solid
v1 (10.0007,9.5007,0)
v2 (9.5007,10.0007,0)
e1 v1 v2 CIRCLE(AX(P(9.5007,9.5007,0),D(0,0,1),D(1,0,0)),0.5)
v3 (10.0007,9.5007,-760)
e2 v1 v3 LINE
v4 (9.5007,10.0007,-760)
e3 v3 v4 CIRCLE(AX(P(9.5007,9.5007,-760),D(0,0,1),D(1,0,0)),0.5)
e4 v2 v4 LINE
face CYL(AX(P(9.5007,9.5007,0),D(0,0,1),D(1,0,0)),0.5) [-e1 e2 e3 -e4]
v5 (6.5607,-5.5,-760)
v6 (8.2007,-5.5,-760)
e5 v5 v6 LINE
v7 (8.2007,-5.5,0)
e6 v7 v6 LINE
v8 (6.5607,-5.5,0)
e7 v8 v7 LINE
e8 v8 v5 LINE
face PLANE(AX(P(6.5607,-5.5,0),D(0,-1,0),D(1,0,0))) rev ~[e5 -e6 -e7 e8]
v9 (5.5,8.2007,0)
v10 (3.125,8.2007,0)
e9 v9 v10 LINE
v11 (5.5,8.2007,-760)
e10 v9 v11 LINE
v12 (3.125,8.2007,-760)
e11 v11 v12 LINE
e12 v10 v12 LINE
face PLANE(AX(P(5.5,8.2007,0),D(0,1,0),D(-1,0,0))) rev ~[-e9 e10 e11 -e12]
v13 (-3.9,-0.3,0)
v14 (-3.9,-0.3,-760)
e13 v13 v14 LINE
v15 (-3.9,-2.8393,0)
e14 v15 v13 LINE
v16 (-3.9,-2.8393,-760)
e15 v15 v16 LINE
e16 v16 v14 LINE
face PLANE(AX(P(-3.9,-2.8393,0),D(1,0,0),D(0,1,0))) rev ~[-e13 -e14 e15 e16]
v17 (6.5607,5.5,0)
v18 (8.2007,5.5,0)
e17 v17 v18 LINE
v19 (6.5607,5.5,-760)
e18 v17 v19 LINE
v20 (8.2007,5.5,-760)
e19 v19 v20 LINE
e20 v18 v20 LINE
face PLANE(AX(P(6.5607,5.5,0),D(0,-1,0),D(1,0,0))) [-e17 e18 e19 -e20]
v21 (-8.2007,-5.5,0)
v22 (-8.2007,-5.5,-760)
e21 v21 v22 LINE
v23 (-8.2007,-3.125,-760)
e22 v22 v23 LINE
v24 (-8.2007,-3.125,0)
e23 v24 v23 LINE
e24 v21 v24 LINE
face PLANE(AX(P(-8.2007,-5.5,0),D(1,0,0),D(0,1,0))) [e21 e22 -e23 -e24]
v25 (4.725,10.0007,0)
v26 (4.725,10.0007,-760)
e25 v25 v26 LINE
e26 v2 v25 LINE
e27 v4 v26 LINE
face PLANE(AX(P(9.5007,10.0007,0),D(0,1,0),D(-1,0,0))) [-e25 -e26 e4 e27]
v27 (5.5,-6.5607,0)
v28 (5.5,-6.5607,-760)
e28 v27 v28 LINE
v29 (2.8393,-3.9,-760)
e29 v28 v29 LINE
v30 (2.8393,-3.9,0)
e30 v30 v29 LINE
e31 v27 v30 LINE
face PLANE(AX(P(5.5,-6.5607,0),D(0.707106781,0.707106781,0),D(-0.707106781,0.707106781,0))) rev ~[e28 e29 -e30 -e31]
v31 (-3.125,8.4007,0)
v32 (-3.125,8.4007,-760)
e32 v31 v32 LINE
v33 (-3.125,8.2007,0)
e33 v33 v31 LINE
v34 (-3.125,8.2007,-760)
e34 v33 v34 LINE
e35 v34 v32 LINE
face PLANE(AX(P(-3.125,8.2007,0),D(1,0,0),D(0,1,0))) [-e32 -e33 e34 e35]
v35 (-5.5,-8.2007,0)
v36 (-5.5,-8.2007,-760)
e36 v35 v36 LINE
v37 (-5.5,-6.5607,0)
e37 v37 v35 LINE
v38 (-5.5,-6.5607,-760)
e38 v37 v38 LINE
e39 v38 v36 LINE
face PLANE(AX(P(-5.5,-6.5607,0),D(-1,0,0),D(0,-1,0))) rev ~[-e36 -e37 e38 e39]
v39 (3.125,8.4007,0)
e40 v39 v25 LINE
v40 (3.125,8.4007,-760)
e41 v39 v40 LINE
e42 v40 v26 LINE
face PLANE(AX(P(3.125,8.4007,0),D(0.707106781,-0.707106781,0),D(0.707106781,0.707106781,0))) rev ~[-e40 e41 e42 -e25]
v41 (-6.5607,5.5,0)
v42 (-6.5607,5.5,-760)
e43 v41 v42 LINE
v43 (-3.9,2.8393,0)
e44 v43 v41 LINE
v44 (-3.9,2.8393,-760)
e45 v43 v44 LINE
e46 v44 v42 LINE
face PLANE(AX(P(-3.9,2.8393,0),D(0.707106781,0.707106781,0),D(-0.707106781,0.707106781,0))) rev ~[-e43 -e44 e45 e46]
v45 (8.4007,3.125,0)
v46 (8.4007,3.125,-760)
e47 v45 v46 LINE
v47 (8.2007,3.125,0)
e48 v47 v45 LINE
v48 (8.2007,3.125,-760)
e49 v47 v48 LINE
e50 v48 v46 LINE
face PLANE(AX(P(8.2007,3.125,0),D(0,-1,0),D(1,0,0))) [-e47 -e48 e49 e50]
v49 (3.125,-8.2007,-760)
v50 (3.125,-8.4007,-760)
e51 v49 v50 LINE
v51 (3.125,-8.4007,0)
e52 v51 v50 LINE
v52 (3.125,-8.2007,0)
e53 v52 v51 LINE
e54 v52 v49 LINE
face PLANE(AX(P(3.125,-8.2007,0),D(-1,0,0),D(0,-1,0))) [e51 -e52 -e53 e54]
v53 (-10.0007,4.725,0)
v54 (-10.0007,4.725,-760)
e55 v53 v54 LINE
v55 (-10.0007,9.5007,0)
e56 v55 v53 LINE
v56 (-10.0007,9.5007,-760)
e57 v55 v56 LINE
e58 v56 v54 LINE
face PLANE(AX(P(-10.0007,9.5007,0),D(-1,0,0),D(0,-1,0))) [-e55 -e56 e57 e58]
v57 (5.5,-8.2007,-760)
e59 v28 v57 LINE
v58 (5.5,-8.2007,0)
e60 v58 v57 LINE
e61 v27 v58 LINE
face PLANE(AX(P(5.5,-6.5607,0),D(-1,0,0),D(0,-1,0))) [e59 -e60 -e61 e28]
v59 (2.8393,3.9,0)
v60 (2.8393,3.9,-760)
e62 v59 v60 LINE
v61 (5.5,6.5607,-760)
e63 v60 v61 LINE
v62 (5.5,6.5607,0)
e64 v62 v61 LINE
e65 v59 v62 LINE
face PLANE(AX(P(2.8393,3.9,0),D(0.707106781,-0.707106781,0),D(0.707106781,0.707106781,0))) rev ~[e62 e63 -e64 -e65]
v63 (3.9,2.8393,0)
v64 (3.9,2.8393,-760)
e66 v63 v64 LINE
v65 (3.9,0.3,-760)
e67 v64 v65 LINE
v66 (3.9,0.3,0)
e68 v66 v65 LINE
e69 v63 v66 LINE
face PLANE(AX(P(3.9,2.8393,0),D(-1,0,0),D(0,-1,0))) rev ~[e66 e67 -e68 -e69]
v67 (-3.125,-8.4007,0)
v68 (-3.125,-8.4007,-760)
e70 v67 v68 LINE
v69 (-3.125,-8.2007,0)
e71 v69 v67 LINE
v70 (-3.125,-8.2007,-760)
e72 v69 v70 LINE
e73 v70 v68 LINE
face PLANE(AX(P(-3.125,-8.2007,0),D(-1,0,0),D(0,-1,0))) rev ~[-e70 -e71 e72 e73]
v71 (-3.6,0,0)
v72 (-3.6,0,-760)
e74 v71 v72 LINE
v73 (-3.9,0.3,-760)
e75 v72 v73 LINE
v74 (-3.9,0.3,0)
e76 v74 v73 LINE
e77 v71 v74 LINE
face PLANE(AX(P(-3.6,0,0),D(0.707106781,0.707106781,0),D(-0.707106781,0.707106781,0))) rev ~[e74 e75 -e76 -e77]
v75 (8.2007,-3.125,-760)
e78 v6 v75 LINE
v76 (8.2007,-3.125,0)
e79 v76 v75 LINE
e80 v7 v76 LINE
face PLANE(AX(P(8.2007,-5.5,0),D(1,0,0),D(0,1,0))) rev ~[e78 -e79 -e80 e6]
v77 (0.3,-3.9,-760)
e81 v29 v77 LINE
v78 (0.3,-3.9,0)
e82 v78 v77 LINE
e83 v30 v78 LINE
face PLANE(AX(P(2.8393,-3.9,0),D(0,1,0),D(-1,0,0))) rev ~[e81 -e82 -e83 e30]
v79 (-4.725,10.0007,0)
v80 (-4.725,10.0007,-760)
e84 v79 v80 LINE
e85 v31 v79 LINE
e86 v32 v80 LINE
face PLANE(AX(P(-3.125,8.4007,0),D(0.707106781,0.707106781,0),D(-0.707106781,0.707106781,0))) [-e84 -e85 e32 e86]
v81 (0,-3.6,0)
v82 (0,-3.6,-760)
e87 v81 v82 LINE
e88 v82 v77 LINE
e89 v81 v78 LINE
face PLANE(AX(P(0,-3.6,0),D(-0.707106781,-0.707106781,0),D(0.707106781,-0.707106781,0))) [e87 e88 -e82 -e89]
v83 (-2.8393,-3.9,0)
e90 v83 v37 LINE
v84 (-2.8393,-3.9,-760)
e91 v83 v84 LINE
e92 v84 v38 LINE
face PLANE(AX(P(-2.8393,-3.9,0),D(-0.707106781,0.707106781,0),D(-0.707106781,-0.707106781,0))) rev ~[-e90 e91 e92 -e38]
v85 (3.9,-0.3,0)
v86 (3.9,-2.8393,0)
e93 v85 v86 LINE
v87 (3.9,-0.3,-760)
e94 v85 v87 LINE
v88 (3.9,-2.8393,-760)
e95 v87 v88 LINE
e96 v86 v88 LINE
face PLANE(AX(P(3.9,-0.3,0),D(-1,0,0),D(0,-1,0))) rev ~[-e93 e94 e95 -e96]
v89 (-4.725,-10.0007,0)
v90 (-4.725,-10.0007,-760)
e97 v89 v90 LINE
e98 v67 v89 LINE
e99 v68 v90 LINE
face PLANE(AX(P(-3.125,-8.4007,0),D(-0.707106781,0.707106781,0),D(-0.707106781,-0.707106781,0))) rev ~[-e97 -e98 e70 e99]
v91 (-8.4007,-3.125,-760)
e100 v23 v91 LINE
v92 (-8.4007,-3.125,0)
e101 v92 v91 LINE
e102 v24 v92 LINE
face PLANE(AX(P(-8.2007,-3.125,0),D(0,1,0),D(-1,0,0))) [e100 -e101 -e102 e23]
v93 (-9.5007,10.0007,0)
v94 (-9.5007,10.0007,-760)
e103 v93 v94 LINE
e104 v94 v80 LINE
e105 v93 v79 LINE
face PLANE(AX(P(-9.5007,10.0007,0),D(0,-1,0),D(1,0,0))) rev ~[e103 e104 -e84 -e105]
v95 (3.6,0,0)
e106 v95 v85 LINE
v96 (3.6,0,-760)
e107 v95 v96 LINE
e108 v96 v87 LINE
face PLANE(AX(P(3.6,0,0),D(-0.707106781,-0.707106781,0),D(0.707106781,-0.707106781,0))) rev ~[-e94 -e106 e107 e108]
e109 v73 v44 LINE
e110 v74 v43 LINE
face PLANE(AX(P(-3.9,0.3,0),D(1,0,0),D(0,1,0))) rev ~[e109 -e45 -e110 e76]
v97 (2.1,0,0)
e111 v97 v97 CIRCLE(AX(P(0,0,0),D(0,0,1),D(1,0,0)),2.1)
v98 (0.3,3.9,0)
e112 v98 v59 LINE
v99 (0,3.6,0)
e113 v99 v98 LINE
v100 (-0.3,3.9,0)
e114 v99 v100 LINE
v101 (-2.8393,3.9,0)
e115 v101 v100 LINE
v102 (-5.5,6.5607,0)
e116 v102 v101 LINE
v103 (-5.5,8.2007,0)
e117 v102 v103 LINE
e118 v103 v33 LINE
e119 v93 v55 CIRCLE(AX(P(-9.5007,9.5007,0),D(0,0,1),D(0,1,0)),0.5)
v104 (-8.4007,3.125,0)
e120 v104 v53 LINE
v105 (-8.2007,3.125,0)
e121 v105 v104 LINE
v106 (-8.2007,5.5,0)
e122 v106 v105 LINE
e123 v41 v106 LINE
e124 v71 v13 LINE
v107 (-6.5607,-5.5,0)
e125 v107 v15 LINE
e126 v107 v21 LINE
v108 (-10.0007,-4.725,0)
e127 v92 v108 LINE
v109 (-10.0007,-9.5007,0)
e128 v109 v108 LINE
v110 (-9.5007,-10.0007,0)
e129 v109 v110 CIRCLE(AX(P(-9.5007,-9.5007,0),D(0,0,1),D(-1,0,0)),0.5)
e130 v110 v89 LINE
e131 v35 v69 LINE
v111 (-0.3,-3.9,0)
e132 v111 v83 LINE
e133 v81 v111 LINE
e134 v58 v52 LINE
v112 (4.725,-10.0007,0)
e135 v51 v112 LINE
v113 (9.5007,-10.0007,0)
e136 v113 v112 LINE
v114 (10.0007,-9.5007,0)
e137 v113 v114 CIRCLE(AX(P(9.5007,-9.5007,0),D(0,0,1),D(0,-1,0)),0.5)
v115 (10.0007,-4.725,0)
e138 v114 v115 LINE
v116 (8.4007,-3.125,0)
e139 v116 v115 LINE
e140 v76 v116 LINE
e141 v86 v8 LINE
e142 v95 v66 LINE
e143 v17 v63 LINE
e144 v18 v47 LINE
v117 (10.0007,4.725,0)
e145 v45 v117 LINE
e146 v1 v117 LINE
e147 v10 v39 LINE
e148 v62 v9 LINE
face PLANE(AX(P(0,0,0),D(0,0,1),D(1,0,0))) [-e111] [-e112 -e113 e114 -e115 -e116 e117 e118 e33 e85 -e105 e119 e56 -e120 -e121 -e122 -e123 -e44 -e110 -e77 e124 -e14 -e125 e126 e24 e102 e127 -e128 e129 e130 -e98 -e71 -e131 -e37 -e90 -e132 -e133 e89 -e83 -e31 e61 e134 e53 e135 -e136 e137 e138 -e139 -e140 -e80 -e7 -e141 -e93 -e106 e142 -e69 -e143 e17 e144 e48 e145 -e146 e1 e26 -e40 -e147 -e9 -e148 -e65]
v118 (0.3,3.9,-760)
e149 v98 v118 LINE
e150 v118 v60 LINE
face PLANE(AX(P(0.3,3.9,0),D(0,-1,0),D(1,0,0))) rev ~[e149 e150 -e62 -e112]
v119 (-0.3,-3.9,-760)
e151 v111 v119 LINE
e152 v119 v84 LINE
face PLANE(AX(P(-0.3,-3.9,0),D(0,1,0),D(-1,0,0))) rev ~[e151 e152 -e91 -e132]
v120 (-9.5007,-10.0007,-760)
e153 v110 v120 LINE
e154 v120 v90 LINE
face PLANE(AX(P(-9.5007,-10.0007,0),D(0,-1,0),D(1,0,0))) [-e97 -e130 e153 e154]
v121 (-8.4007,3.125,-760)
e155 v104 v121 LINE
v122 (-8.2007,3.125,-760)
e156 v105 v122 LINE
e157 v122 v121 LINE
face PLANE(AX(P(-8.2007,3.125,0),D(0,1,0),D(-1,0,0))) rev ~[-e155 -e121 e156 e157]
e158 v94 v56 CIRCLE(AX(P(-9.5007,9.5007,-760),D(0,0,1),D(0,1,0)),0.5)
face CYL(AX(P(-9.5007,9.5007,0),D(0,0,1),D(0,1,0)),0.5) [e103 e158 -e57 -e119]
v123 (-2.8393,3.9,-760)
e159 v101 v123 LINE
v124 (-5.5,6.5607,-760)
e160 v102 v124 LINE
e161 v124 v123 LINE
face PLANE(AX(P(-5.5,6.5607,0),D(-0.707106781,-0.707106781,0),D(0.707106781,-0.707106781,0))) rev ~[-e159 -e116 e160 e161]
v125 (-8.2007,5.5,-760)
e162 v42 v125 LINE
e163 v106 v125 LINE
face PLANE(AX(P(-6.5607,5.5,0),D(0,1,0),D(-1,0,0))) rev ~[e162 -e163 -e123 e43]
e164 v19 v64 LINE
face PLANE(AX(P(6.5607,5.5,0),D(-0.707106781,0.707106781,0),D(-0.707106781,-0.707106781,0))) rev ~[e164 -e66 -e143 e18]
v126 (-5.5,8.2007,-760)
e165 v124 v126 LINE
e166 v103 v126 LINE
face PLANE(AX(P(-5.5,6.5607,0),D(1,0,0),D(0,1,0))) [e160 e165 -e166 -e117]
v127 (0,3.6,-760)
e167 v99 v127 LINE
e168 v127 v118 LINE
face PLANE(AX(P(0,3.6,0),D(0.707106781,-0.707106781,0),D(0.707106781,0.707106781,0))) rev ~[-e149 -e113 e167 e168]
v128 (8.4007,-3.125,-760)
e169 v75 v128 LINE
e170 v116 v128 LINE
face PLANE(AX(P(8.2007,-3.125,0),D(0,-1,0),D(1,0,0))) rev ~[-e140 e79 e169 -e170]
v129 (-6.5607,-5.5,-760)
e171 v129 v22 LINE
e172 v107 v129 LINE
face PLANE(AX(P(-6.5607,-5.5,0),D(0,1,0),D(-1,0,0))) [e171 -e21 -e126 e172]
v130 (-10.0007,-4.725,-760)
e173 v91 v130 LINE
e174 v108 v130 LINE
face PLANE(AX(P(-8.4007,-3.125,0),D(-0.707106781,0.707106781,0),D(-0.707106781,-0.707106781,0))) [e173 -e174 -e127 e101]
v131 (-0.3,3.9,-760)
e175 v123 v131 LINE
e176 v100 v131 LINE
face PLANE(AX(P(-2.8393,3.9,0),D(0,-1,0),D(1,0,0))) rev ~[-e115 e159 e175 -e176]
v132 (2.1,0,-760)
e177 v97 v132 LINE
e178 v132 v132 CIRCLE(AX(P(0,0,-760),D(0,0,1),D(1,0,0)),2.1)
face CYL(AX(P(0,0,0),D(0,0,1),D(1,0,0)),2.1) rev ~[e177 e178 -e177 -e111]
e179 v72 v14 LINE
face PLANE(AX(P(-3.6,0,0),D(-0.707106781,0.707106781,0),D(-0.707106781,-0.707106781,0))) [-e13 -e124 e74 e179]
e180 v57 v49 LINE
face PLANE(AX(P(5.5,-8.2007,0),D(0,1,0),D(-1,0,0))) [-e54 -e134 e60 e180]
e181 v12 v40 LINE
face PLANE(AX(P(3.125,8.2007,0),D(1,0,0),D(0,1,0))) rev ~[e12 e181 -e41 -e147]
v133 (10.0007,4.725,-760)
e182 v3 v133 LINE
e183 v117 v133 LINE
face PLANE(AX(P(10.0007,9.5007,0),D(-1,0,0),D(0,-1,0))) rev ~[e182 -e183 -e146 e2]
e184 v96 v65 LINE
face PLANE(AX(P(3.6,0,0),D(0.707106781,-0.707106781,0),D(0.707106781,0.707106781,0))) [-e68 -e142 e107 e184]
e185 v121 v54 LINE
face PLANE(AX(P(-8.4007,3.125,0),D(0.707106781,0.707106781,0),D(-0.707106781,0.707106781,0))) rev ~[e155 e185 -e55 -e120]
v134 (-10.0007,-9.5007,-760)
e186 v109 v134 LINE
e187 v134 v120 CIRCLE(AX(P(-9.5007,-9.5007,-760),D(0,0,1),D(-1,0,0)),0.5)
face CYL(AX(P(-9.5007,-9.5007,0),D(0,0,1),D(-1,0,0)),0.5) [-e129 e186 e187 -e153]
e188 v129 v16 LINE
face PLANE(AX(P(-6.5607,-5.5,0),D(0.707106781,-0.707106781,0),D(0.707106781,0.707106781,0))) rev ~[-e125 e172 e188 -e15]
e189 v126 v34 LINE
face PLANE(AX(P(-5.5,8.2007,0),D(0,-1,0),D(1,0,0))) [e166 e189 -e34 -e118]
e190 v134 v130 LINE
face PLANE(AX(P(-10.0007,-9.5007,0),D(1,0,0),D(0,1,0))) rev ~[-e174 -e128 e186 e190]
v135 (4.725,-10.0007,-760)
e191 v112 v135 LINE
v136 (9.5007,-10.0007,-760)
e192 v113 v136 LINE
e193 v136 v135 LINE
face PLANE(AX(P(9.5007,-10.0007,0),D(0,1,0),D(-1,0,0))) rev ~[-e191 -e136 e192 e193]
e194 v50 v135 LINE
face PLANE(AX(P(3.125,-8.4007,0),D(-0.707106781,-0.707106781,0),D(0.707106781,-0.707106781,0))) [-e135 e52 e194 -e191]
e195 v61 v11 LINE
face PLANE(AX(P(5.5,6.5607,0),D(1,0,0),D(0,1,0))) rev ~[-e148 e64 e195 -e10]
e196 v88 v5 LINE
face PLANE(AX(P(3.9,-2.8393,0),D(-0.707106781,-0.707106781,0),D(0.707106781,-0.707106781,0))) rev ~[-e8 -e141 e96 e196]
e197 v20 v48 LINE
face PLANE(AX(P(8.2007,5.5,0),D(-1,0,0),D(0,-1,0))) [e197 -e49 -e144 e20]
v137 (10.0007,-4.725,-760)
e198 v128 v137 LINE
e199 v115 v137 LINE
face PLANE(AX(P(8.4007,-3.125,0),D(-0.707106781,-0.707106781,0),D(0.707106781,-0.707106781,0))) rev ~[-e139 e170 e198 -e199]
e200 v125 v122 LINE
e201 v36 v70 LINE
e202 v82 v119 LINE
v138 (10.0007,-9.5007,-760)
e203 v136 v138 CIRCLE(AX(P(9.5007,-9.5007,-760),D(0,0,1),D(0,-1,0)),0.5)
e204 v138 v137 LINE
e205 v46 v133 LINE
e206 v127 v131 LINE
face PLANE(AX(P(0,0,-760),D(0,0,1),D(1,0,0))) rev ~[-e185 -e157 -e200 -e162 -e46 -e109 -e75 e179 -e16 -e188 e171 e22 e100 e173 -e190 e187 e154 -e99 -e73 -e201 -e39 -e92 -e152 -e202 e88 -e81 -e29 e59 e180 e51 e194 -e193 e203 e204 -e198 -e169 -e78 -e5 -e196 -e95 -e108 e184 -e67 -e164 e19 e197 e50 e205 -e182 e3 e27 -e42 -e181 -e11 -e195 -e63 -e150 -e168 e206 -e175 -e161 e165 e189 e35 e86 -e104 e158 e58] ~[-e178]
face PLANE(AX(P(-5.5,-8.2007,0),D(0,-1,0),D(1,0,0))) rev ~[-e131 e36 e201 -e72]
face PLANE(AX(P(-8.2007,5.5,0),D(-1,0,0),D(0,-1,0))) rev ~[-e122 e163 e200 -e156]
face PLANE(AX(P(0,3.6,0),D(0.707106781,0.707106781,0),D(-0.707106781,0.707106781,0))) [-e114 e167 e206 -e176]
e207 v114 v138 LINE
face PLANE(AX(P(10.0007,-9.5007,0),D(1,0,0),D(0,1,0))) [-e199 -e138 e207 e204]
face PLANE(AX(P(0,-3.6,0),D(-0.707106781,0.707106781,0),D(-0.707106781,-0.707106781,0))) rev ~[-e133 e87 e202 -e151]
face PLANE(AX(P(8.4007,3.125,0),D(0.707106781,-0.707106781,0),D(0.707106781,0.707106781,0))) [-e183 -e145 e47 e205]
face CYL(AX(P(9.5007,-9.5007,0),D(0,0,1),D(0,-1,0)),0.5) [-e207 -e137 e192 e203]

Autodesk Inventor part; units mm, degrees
ref_plane "YZ Plane" through (0, 0, 0) normal (1, 0, 0) x (0, 1, 0)
ref_plane "XZ Plane" through (0, 0, 0) normal (0, 1, 0) x (-1, 0, 0)
ref_plane "XY Plane" through (0, 0, 0) normal (0, 0, 1) x (1, 0, 0)
sketch "Sketch2" plane through (0, 0, 0) normal (0, 0, 1) x (1, 0, 0)
  arc A0 (-27.4375, 16.3608) -> (-26.9375, 16.8608) centre (-27.4375, 16.8608) ccw
  line L0 (-45.4375, 36.3608) -> (-46.4375, 36.3608)
  line L1 (-46.9375, 34.8608) -> (-46.9375, 35.8608)
  line L2 (-28.4375, 36.3608) -> (-27.4375, 36.3608)
  line L3 (-26.9375, 17.8608) -> (-26.9375, 16.8608)
  line L4 (-28.4375, 16.3608) -> (-27.4375, 16.3608)
  line L5 (-26.9375, 31.1923) -> (-26.9375, 35.8608)
  line L6 (-46.4375, 16.3608) -> (-41.7689, 16.3608)
  line L7 (-46.9375, 17.8608) -> (-46.9375, 16.8608)
  arc A1 (-46.9375, 16.8608) -> (-46.4375, 16.3608) centre (-46.4375, 16.8608) ccw
  arc A2 (-46.9375, 16.8608) -> (-46.4375, 16.3608) centre (-46.4375, 16.8608) ccw
  arc A3 (-46.4375, 36.3608) -> (-46.9375, 35.8608) centre (-46.4375, 35.8608) ccw
  arc A4 (-26.9375, 35.8608) -> (-27.4375, 36.3608) centre (-27.4375, 35.8608) ccw
  line L8 (-41.5004, 36.2982) -> (-41.5366, 36.3146)
  line L9 (-46.812, 30.8227) -> (-46.8352, 30.855)
  line L10 (-46.9375, 17.8608) -> (-46.9375, 21.4608)
  line L11 (-46.9362, 21.5691) -> (-46.9375, 21.4608)
  line L12 (-46.9258, 21.6478) -> (-46.9323, 21.6086)
  line L13 (-46.9323, 21.6086) -> (-46.9362, 21.5691)
  line L14 (-46.9168, 21.6865) -> (-46.9258, 21.6478)
  line L15 (-46.9053, 21.7245) -> (-46.9168, 21.6865)
  line L16 (-46.8913, 21.7617) -> (-46.9053, 21.7245)
  line L17 (-46.8749, 21.7979) -> (-46.8913, 21.7617)
  line L18 (-46.8561, 21.8329) -> (-46.8749, 21.7979)
  line L19 (-46.812, 21.8989) -> (-46.8352, 21.8667)
  line L20 (-46.8352, 21.8667) -> (-46.8561, 21.8329)
  line L21 (-41.4654, 36.2795) -> (-41.5004, 36.2982)
  line L22 (-46.7868, 21.9297) -> (-46.812, 21.8989)
  line L23 (-46.7597, 21.9586) -> (-46.7868, 21.9297)
  line L24 (-46.7597, 21.9586) -> (-45.2441, 23.4742)
  line L25 (-45.2441, 23.4742) -> (-45.1375, 23.4742)
  line L26 (-45.1375, 23.4742) -> (-45.1375, 20.8608)
  line L27 (-45.1375, 20.8608) -> (-43.4981, 20.8608)
  line L28 (-43.4981, 20.8608) -> (-40.8375, 23.5215)
  line L29 (-46.7868, 30.792) -> (-46.812, 30.8227)
  line L30 (-40.8375, 26.161) -> (-40.8375, 23.5215)
  line L31 (-40.6376, 26.3608) -> (-40.8375, 26.161)
  line L32 (-40.6376, 26.3608) -> (-40.8375, 26.5607)
  line L33 (-40.8375, 29.2002) -> (-40.8375, 26.5607)
  line L34 (-43.4981, 31.8608) -> (-40.8375, 29.2002)
  line L35 (-45.1375, 31.8608) -> (-43.4981, 31.8608)
  line L36 (-45.1375, 29.2475) -> (-45.1375, 31.8608)
  line L37 (-46.7597, 30.763) -> (-46.7868, 30.792)
  line L38 (-45.2441, 29.2475) -> (-45.1375, 29.2475)
  line L39 (-45.2441, 29.2475) -> (-46.7597, 30.763)
  line L40 (-28.7375, 20.8608) -> (-30.3768, 20.8608)
  line L41 (-41.5738, 36.3286) -> (-41.6118, 36.3402)
  line L42 (-41.3687, 36.2102) -> (-41.3994, 36.2354)
  line L43 (-41.3397, 36.183) -> (-41.3687, 36.2102)
  line L44 (-41.6118, 36.3402) -> (-41.6505, 36.3492)
  line L45 (-41.7292, 16.3621) -> (-41.7689, 16.3608)
  line L46 (-41.6897, 16.366) -> (-41.7292, 16.3621)
  line L47 (-41.6505, 16.3725) -> (-41.6897, 16.366)
  line L48 (-41.6118, 16.3815) -> (-41.6505, 16.3725)
  line L49 (-41.5738, 16.3931) -> (-41.6118, 16.3815)
  line L50 (-41.5366, 16.4071) -> (-41.5738, 16.3931)
  line L51 (-42.4375, 32.9215) -> (-39.7768, 30.2608)
  line L52 (-41.5004, 16.4235) -> (-41.5366, 16.4071)
  line L53 (-41.4654, 16.4422) -> (-41.5004, 16.4235)
  line L54 (-41.4317, 16.4632) -> (-41.4654, 16.4422)
  line L55 (-41.3994, 16.4863) -> (-41.4317, 16.4632)
  line L56 (-41.3687, 16.5115) -> (-41.3994, 16.4863)
  line L57 (-41.3397, 16.5386) -> (-41.3687, 16.5115)
  line L58 (-41.3397, 16.5386) -> (-39.8241, 18.0542)
  line L59 (-39.8241, 18.0542) -> (-39.8241, 18.1608)
  line L60 (-39.8241, 18.1608) -> (-42.4375, 18.1608)
  line L61 (-42.4375, 18.1608) -> (-42.4375, 19.8002)
  line L62 (-42.4375, 19.8002) -> (-39.7768, 22.4608)
  line L63 (-39.7768, 22.4608) -> (-37.1444, 22.4608)
  line L64 (-37.1444, 22.4608) -> (-36.9375, 22.6656)
  line L65 (-36.9375, 22.6656) -> (-36.7327, 22.4608)
  line L66 (-36.7327, 22.4608) -> (-34.0981, 22.4608)
  line L67 (-34.0981, 22.4608) -> (-31.4375, 19.8002)
  line L68 (-31.4375, 18.1608) -> (-31.4375, 19.8002)
  line L69 (-41.3397, 36.183) -> (-39.8241, 34.6675)
  line L70 (-34.0508, 18.1608) -> (-31.4375, 18.1608)
  line L71 (-41.6505, 36.3492) -> (-41.6897, 36.3557)
  line L72 (-34.0508, 18.0542) -> (-34.0508, 18.1608)
  line L73 (-34.0508, 18.0542) -> (-32.5353, 16.5387)
  line L74 (-32.5353, 16.5387) -> (-32.5063, 16.5115)
  line L75 (-32.5063, 16.5115) -> (-32.4756, 16.4863)
  line L76 (-32.4756, 16.4863) -> (-32.4433, 16.4632)
  line L77 (-32.4433, 16.4632) -> (-32.4096, 16.4422)
  line L78 (-32.4096, 16.4422) -> (-32.3745, 16.4235)
  line L79 (-32.3745, 16.4235) -> (-32.3383, 16.4071)
  line L80 (-32.3383, 16.4071) -> (-32.3012, 16.3931)
  line L81 (-32.3012, 16.3931) -> (-32.2631, 16.3815)
  line L82 (-32.2631, 16.3815) -> (-32.2245, 16.3725)
  line L83 (-32.2245, 16.3725) -> (-32.1853, 16.366)
  line L84 (-32.1853, 16.366) -> (-32.1457, 16.3621)
  line L85 (-32.1457, 16.3621) -> (-32.106, 16.3608)
  line L86 (-28.4375, 16.3608) -> (-32.106, 16.3608)
  line L87 (-39.8241, 34.6675) -> (-39.8241, 34.5608)
  line L88 (-41.6897, 36.3557) -> (-41.7292, 36.3595)
  line L89 (-26.9375, 17.8608) -> (-26.9375, 21.5294)
  line L90 (-26.9388, 21.5691) -> (-26.9375, 21.5294)
  line L91 (-26.9427, 21.6086) -> (-26.9388, 21.5691)
  line L92 (-26.9491, 21.6478) -> (-26.9427, 21.6086)
  line L93 (-26.9582, 21.6865) -> (-26.9491, 21.6478)
  line L94 (-26.9697, 21.7245) -> (-26.9582, 21.6865)
  line L95 (-26.9837, 21.7617) -> (-26.9697, 21.7245)
  line L96 (-27.0001, 21.7979) -> (-26.9837, 21.7617)
  line L97 (-41.7292, 36.3595) -> (-41.7689, 36.3608)
  line L98 (-27.0188, 21.8329) -> (-27.0001, 21.7979)
  line L99 (-27.0398, 21.8667) -> (-27.0188, 21.8329)
  line L100 (-27.0629, 21.8989) -> (-27.0398, 21.8667)
  line L101 (-27.0881, 21.9297) -> (-27.0629, 21.8989)
  line L102 (-27.1153, 21.9587) -> (-27.0881, 21.9297)
  line L103 (-28.6308, 23.4742) -> (-27.1153, 21.9587)
  line L104 (-28.6308, 23.4742) -> (-28.7375, 23.4742)
  line L105 (-28.7375, 23.4742) -> (-28.7375, 20.8608)
  line L106 (-32.3012, 36.3286) -> (-32.2631, 36.3402)
  line L107 (-30.3768, 20.8608) -> (-33.0375, 23.5215)
  line L108 (-33.0375, 23.5215) -> (-33.0375, 26.161)
  line L109 (-33.2373, 26.3608) -> (-33.0375, 26.161)
  line L110 (-33.2373, 26.3608) -> (-33.0375, 26.5607)
  line L111 (-33.0375, 29.2002) -> (-33.0375, 26.5607)
  line L112 (-30.3768, 31.8608) -> (-33.0375, 29.2002)
  line L113 (-45.4375, 36.3608) -> (-41.7689, 36.3608)
  line L114 (-28.6308, 29.2475) -> (-28.7375, 29.2475)
  line L115 (-28.7375, 31.8608) -> (-30.3768, 31.8608)
  line L116 (-28.7375, 29.2475) -> (-28.7375, 31.8608)
  line L117 (-27.1153, 30.763) -> (-28.6308, 29.2475)
  line L118 (-27.1153, 30.763) -> (-27.0881, 30.792)
  line L119 (-27.0881, 30.792) -> (-27.0629, 30.8227)
  line L120 (-27.0629, 30.8227) -> (-27.0398, 30.855)
  line L121 (-27.0398, 30.855) -> (-27.0188, 30.8888)
  line L122 (-27.0188, 30.8888) -> (-27.0001, 30.9238)
  line L123 (-27.0001, 30.9238) -> (-26.9837, 30.96)
  line L124 (-26.9837, 30.96) -> (-26.9697, 30.9972)
  line L125 (-26.9697, 30.9972) -> (-26.9582, 31.0352)
  line L126 (-26.9582, 31.0352) -> (-26.9491, 31.0739)
  line L127 (-26.9491, 31.0739) -> (-26.9427, 31.1131)
  line L128 (-26.9427, 31.1131) -> (-26.9388, 31.1526)
  line L129 (-26.9388, 31.1526) -> (-26.9375, 31.1923)
  line L130 (-39.8241, 34.5608) -> (-42.4375, 34.5608)
  line L131 (-28.4375, 36.3608) -> (-32.106, 36.3608)
  line L132 (-32.1457, 36.3595) -> (-32.106, 36.3608)
  line L133 (-32.1853, 36.3557) -> (-32.1457, 36.3595)
  line L134 (-32.2631, 36.3402) -> (-32.2245, 36.3492)
  line L135 (-32.3383, 36.3146) -> (-32.3012, 36.3286)
  line L136 (-32.3745, 36.2982) -> (-32.3383, 36.3146)
  line L137 (-32.4096, 36.2795) -> (-32.3745, 36.2982)
  line L138 (-32.4433, 36.2585) -> (-32.4096, 36.2795)
  line L139 (-32.4756, 36.2354) -> (-32.4433, 36.2585)
  line L140 (-32.5063, 36.2102) -> (-32.4756, 36.2354)
  line L141 (-46.9323, 31.1131) -> (-46.9362, 31.1526)
  line L142 (-34.0508, 34.6675) -> (-32.5353, 36.183)
  line L143 (-34.0508, 34.6675) -> (-34.0508, 34.5608)
  line L144 (-34.0508, 34.5608) -> (-31.4375, 34.5608)
  line L145 (-31.4375, 34.5608) -> (-31.4375, 32.9215)
  line L146 (-34.0981, 30.2608) -> (-31.4375, 32.9215)
  line L147 (-34.0981, 30.2608) -> (-36.7327, 30.2608)
  line L148 (-42.4375, 34.5608) -> (-42.4375, 32.9215)
  line L149 (-36.7327, 30.2608) -> (-36.9375, 30.0561)
  line L150 (-37.1422, 30.2608) -> (-36.9375, 30.0561)
  line L151 (-39.7768, 30.2608) -> (-37.1422, 30.2608)
  line L152 (-32.5353, 36.183) -> (-32.5063, 36.2102)
  line L153 (-41.3994, 36.2354) -> (-41.4317, 36.2585)
  line L154 (-46.9258, 31.0739) -> (-46.9323, 31.1131)
  line L155 (-41.4317, 36.2585) -> (-41.4654, 36.2795)
  line L156 (-46.9362, 31.1526) -> (-46.9375, 31.2608)
  line L157 (-46.9168, 31.0352) -> (-46.9258, 31.0739)
  line L158 (-46.9375, 34.8608) -> (-46.9375, 31.2608)
  line L159 (-46.9053, 30.9972) -> (-46.9168, 31.0352)
  line L160 (-46.8913, 30.96) -> (-46.9053, 30.9972)
  line L161 (-46.8749, 30.9238) -> (-46.8913, 30.96)
  line L162 (-46.8561, 30.8888) -> (-46.8749, 30.9238)
  line L163 (-32.2245, 36.3492) -> (-32.1853, 36.3557)
  line L164 (-41.5366, 36.3146) -> (-41.5738, 36.3286)
  line L165 (-46.8352, 30.855) -> (-46.8561, 30.8888)
  circle A5 centre (-36.9375, 26.3608) radius 2.1
  line L166 (3.9, -0.3) -> (3.9, -2.8393)
  line L167 (2.8393, -3.9) -> (0.3, -3.9)
  line L168 (5.5, -6.5607) -> (2.8393, -3.9)
  line L169 (3.9, -2.8393) -> (6.5607, -5.5)
  line L170 (6.5607, -5.5) -> (8.2007, -5.5)
  line L171 (8.2007, -5.5) -> (8.2007, -3.125)
  line L172 (8.2007, -3.125) -> (8.4007, -3.125)
  line L173 (8.4007, -3.125) -> (10.0007, -4.725)
  line L174 (10.0007, -9.5007) -> (10.0007, -4.725)
  line L175 (5.5, -6.5607) -> (5.5, -8.2007)
  line L176 (5.5, -8.2007) -> (3.125, -8.2007)
  line L177 (3.125, -8.2007) -> (3.125, -8.4007)
  line L178 (3.125, -8.4007) -> (4.725, -10.0007)
  line L179 (9.5007, -10.0007) -> (4.725, -10.0007)
  arc A6 (9.5007, -10.0007) -> (10.0007, -9.5007) centre (9.5007, -9.5007) ccw
  line L180 (0, -3.6) -> (0.3, -3.9)
  line L181 (3.6, 0) -> (3.9, -0.3)
  line L182 (3.125, 8.2007) -> (3.125, 8.4007)
  line L183 (0.3, 3.9) -> (2.8393, 3.9)
  line L184 (5.5, 8.2007) -> (3.125, 8.2007)
  line L185 (2.8393, 3.9) -> (5.5, 6.5607)
  line L186 (3.9, 2.8393) -> (3.9, 0.3)
  line L187 (3.6, 0) -> (3.9, 0.3)
  line L188 (6.5607, 5.5) -> (3.9, 2.8393)
  line L189 (5.5, 6.5607) -> (5.5, 8.2007)
  line L190 (3.125, 8.4007) -> (4.725, 10.0007)
  line L191 (6.5607, 5.5) -> (8.2007, 5.5)
  line L192 (8.2007, 5.5) -> (8.2007, 3.125)
  line L193 (8.2007, 3.125) -> (8.4007, 3.125)
  line L194 (8.4007, 3.125) -> (10.0007, 4.725)
  line L195 (9.5007, 10.0007) -> (4.725, 10.0007)
  arc A7 (10.0007, 9.5007) -> (9.5007, 10.0007) centre (9.5007, 9.5007) ccw
  line L196 (10.0007, 9.5007) -> (10.0007, 4.725)
  line L197 (0, 3.6) -> (0.3, 3.9)
  line L198 (-8.2007, 3.125) -> (-8.4007, 3.125)
  line L199 (-3.9, 0.3) -> (-3.9, 2.8393)
  line L200 (-8.2007, 5.5) -> (-8.2007, 3.125)
  line L201 (-3.9, 2.8393) -> (-6.5607, 5.5)
  line L202 (-2.8393, 3.9) -> (-0.3, 3.9)
  line L203 (0, 3.6) -> (-0.3, 3.9)
  line L204 (-5.5, 6.5607) -> (-2.8393, 3.9)
  line L205 (-6.5607, 5.5) -> (-8.2007, 5.5)
  line L206 (-8.4007, 3.125) -> (-10.0007, 4.725)
  line L207 (-5.5, 6.5607) -> (-5.5, 8.2007)
  line L208 (-5.5, 8.2007) -> (-3.125, 8.2007)
  line L209 (-3.125, 8.2007) -> (-3.125, 8.4007)
  line L210 (-3.125, 8.4007) -> (-4.725, 10.0007)
  line L211 (-10.0007, 9.5007) -> (-10.0007, 4.725)
  arc A8 (-9.5007, 10.0007) -> (-10.0007, 9.5007) centre (-9.5007, 9.5007) ccw
  line L212 (-9.5007, 10.0007) -> (-4.725, 10.0007)
  line L213 (-3.6, 0) -> (-3.9, 0.3)
  line L214 (-3.125, -8.2007) -> (-3.125, -8.4007)
  line L215 (-0.3, -3.9) -> (-2.8393, -3.9)
  line L216 (-5.5, -8.2007) -> (-3.125, -8.2007)
  line L217 (-2.8393, -3.9) -> (-5.5, -6.5607)
  line L218 (-3.9, -2.8393) -> (-3.9, -0.3)
  line L219 (-3.6, 0) -> (-3.9, -0.3)
  line L220 (-6.5607, -5.5) -> (-3.9, -2.8393)
  line L221 (-5.5, -6.5607) -> (-5.5, -8.2007)
  line L222 (-3.125, -8.4007) -> (-4.725, -10.0007)
  line L223 (-6.5607, -5.5) -> (-8.2007, -5.5)
  line L224 (-8.2007, -5.5) -> (-8.2007, -3.125)
  line L225 (-8.2007, -3.125) -> (-8.4007, -3.125)
  line L226 (-8.4007, -3.125) -> (-10.0007, -4.725)
  line L227 (-9.5007, -10.0007) -> (-4.725, -10.0007)
  arc A9 (-10.0007, -9.5007) -> (-9.5007, -10.0007) centre (-9.5007, -9.5007) ccw
  line L228 (-10.0007, -9.5007) -> (-10.0007, -4.725)
  line L229 (0, -3.6) -> (-0.3, -3.9)
  circle A10 centre (0, 0) radius 2.1
  point P0 (0, -3.9)
  point P1 (3.9, 0)
  point P2 (3.9, 0)
  point P3 (0, 3.9)
  point P4 (0, 3.9)
  point P5 (3.9, 0)
  point P6 (-3.9, 0)
  point P7 (-3.9, 0)
  point P8 (0, 3.9)
  point P9 (0, -3.9)
  point P10 (0, -3.9)
  point P11 (-3.9, 0)
  dimension "d1" = 4.2
  dimension "d2" = 1.5
  dimension "d4" = 3.9
  dimension "d5" = 3.9
  dimension "d7" = 1.5
  dimension "d9" = 1.64
  dimension "d10" = 135
  dimension "d11" = 1.8
  dimension "d12" = 3.125
  dimension "d13" = 5.5
  dimension "d14" = 45
  dimension "d15" = 0.2
  dimension "d16" = 0.5
  dimension "d17" = 0.3
  dimension "d18" = 0.3
  dimension "d19" = 0.3
  dimension "d20" = 0.3
  dimension "d23" = 360
  dimension "d25" = 4.2
extrude "Extrusion1" add sketch "Sketch2" against normal blind 760 contours L166 L169 L170 L171 L172 L173 L174 A6 L179 L178 L177 L176 L175 L168 L167 L180 L229 L215 L217 L221 L216 L214 L222 L227 A9 L228 L226 L225 L224 L223 L220 L218 L219 L213 L199 L201 L205 L200 L198 L206 L211 A8 L212 L210 L209 L208 L207 L204 L202 L203 L197 L183 L185 L189 L184 L182 L190 L195 A7 L196 L194 L193 L192 L191 L188 L186 L187 L181
equation "\"d5\" = d4"
equation "\"d18\" = d17"
equation "\"d20\" = d19"
properties part number "v-slot" material "Aluminum 6061"
